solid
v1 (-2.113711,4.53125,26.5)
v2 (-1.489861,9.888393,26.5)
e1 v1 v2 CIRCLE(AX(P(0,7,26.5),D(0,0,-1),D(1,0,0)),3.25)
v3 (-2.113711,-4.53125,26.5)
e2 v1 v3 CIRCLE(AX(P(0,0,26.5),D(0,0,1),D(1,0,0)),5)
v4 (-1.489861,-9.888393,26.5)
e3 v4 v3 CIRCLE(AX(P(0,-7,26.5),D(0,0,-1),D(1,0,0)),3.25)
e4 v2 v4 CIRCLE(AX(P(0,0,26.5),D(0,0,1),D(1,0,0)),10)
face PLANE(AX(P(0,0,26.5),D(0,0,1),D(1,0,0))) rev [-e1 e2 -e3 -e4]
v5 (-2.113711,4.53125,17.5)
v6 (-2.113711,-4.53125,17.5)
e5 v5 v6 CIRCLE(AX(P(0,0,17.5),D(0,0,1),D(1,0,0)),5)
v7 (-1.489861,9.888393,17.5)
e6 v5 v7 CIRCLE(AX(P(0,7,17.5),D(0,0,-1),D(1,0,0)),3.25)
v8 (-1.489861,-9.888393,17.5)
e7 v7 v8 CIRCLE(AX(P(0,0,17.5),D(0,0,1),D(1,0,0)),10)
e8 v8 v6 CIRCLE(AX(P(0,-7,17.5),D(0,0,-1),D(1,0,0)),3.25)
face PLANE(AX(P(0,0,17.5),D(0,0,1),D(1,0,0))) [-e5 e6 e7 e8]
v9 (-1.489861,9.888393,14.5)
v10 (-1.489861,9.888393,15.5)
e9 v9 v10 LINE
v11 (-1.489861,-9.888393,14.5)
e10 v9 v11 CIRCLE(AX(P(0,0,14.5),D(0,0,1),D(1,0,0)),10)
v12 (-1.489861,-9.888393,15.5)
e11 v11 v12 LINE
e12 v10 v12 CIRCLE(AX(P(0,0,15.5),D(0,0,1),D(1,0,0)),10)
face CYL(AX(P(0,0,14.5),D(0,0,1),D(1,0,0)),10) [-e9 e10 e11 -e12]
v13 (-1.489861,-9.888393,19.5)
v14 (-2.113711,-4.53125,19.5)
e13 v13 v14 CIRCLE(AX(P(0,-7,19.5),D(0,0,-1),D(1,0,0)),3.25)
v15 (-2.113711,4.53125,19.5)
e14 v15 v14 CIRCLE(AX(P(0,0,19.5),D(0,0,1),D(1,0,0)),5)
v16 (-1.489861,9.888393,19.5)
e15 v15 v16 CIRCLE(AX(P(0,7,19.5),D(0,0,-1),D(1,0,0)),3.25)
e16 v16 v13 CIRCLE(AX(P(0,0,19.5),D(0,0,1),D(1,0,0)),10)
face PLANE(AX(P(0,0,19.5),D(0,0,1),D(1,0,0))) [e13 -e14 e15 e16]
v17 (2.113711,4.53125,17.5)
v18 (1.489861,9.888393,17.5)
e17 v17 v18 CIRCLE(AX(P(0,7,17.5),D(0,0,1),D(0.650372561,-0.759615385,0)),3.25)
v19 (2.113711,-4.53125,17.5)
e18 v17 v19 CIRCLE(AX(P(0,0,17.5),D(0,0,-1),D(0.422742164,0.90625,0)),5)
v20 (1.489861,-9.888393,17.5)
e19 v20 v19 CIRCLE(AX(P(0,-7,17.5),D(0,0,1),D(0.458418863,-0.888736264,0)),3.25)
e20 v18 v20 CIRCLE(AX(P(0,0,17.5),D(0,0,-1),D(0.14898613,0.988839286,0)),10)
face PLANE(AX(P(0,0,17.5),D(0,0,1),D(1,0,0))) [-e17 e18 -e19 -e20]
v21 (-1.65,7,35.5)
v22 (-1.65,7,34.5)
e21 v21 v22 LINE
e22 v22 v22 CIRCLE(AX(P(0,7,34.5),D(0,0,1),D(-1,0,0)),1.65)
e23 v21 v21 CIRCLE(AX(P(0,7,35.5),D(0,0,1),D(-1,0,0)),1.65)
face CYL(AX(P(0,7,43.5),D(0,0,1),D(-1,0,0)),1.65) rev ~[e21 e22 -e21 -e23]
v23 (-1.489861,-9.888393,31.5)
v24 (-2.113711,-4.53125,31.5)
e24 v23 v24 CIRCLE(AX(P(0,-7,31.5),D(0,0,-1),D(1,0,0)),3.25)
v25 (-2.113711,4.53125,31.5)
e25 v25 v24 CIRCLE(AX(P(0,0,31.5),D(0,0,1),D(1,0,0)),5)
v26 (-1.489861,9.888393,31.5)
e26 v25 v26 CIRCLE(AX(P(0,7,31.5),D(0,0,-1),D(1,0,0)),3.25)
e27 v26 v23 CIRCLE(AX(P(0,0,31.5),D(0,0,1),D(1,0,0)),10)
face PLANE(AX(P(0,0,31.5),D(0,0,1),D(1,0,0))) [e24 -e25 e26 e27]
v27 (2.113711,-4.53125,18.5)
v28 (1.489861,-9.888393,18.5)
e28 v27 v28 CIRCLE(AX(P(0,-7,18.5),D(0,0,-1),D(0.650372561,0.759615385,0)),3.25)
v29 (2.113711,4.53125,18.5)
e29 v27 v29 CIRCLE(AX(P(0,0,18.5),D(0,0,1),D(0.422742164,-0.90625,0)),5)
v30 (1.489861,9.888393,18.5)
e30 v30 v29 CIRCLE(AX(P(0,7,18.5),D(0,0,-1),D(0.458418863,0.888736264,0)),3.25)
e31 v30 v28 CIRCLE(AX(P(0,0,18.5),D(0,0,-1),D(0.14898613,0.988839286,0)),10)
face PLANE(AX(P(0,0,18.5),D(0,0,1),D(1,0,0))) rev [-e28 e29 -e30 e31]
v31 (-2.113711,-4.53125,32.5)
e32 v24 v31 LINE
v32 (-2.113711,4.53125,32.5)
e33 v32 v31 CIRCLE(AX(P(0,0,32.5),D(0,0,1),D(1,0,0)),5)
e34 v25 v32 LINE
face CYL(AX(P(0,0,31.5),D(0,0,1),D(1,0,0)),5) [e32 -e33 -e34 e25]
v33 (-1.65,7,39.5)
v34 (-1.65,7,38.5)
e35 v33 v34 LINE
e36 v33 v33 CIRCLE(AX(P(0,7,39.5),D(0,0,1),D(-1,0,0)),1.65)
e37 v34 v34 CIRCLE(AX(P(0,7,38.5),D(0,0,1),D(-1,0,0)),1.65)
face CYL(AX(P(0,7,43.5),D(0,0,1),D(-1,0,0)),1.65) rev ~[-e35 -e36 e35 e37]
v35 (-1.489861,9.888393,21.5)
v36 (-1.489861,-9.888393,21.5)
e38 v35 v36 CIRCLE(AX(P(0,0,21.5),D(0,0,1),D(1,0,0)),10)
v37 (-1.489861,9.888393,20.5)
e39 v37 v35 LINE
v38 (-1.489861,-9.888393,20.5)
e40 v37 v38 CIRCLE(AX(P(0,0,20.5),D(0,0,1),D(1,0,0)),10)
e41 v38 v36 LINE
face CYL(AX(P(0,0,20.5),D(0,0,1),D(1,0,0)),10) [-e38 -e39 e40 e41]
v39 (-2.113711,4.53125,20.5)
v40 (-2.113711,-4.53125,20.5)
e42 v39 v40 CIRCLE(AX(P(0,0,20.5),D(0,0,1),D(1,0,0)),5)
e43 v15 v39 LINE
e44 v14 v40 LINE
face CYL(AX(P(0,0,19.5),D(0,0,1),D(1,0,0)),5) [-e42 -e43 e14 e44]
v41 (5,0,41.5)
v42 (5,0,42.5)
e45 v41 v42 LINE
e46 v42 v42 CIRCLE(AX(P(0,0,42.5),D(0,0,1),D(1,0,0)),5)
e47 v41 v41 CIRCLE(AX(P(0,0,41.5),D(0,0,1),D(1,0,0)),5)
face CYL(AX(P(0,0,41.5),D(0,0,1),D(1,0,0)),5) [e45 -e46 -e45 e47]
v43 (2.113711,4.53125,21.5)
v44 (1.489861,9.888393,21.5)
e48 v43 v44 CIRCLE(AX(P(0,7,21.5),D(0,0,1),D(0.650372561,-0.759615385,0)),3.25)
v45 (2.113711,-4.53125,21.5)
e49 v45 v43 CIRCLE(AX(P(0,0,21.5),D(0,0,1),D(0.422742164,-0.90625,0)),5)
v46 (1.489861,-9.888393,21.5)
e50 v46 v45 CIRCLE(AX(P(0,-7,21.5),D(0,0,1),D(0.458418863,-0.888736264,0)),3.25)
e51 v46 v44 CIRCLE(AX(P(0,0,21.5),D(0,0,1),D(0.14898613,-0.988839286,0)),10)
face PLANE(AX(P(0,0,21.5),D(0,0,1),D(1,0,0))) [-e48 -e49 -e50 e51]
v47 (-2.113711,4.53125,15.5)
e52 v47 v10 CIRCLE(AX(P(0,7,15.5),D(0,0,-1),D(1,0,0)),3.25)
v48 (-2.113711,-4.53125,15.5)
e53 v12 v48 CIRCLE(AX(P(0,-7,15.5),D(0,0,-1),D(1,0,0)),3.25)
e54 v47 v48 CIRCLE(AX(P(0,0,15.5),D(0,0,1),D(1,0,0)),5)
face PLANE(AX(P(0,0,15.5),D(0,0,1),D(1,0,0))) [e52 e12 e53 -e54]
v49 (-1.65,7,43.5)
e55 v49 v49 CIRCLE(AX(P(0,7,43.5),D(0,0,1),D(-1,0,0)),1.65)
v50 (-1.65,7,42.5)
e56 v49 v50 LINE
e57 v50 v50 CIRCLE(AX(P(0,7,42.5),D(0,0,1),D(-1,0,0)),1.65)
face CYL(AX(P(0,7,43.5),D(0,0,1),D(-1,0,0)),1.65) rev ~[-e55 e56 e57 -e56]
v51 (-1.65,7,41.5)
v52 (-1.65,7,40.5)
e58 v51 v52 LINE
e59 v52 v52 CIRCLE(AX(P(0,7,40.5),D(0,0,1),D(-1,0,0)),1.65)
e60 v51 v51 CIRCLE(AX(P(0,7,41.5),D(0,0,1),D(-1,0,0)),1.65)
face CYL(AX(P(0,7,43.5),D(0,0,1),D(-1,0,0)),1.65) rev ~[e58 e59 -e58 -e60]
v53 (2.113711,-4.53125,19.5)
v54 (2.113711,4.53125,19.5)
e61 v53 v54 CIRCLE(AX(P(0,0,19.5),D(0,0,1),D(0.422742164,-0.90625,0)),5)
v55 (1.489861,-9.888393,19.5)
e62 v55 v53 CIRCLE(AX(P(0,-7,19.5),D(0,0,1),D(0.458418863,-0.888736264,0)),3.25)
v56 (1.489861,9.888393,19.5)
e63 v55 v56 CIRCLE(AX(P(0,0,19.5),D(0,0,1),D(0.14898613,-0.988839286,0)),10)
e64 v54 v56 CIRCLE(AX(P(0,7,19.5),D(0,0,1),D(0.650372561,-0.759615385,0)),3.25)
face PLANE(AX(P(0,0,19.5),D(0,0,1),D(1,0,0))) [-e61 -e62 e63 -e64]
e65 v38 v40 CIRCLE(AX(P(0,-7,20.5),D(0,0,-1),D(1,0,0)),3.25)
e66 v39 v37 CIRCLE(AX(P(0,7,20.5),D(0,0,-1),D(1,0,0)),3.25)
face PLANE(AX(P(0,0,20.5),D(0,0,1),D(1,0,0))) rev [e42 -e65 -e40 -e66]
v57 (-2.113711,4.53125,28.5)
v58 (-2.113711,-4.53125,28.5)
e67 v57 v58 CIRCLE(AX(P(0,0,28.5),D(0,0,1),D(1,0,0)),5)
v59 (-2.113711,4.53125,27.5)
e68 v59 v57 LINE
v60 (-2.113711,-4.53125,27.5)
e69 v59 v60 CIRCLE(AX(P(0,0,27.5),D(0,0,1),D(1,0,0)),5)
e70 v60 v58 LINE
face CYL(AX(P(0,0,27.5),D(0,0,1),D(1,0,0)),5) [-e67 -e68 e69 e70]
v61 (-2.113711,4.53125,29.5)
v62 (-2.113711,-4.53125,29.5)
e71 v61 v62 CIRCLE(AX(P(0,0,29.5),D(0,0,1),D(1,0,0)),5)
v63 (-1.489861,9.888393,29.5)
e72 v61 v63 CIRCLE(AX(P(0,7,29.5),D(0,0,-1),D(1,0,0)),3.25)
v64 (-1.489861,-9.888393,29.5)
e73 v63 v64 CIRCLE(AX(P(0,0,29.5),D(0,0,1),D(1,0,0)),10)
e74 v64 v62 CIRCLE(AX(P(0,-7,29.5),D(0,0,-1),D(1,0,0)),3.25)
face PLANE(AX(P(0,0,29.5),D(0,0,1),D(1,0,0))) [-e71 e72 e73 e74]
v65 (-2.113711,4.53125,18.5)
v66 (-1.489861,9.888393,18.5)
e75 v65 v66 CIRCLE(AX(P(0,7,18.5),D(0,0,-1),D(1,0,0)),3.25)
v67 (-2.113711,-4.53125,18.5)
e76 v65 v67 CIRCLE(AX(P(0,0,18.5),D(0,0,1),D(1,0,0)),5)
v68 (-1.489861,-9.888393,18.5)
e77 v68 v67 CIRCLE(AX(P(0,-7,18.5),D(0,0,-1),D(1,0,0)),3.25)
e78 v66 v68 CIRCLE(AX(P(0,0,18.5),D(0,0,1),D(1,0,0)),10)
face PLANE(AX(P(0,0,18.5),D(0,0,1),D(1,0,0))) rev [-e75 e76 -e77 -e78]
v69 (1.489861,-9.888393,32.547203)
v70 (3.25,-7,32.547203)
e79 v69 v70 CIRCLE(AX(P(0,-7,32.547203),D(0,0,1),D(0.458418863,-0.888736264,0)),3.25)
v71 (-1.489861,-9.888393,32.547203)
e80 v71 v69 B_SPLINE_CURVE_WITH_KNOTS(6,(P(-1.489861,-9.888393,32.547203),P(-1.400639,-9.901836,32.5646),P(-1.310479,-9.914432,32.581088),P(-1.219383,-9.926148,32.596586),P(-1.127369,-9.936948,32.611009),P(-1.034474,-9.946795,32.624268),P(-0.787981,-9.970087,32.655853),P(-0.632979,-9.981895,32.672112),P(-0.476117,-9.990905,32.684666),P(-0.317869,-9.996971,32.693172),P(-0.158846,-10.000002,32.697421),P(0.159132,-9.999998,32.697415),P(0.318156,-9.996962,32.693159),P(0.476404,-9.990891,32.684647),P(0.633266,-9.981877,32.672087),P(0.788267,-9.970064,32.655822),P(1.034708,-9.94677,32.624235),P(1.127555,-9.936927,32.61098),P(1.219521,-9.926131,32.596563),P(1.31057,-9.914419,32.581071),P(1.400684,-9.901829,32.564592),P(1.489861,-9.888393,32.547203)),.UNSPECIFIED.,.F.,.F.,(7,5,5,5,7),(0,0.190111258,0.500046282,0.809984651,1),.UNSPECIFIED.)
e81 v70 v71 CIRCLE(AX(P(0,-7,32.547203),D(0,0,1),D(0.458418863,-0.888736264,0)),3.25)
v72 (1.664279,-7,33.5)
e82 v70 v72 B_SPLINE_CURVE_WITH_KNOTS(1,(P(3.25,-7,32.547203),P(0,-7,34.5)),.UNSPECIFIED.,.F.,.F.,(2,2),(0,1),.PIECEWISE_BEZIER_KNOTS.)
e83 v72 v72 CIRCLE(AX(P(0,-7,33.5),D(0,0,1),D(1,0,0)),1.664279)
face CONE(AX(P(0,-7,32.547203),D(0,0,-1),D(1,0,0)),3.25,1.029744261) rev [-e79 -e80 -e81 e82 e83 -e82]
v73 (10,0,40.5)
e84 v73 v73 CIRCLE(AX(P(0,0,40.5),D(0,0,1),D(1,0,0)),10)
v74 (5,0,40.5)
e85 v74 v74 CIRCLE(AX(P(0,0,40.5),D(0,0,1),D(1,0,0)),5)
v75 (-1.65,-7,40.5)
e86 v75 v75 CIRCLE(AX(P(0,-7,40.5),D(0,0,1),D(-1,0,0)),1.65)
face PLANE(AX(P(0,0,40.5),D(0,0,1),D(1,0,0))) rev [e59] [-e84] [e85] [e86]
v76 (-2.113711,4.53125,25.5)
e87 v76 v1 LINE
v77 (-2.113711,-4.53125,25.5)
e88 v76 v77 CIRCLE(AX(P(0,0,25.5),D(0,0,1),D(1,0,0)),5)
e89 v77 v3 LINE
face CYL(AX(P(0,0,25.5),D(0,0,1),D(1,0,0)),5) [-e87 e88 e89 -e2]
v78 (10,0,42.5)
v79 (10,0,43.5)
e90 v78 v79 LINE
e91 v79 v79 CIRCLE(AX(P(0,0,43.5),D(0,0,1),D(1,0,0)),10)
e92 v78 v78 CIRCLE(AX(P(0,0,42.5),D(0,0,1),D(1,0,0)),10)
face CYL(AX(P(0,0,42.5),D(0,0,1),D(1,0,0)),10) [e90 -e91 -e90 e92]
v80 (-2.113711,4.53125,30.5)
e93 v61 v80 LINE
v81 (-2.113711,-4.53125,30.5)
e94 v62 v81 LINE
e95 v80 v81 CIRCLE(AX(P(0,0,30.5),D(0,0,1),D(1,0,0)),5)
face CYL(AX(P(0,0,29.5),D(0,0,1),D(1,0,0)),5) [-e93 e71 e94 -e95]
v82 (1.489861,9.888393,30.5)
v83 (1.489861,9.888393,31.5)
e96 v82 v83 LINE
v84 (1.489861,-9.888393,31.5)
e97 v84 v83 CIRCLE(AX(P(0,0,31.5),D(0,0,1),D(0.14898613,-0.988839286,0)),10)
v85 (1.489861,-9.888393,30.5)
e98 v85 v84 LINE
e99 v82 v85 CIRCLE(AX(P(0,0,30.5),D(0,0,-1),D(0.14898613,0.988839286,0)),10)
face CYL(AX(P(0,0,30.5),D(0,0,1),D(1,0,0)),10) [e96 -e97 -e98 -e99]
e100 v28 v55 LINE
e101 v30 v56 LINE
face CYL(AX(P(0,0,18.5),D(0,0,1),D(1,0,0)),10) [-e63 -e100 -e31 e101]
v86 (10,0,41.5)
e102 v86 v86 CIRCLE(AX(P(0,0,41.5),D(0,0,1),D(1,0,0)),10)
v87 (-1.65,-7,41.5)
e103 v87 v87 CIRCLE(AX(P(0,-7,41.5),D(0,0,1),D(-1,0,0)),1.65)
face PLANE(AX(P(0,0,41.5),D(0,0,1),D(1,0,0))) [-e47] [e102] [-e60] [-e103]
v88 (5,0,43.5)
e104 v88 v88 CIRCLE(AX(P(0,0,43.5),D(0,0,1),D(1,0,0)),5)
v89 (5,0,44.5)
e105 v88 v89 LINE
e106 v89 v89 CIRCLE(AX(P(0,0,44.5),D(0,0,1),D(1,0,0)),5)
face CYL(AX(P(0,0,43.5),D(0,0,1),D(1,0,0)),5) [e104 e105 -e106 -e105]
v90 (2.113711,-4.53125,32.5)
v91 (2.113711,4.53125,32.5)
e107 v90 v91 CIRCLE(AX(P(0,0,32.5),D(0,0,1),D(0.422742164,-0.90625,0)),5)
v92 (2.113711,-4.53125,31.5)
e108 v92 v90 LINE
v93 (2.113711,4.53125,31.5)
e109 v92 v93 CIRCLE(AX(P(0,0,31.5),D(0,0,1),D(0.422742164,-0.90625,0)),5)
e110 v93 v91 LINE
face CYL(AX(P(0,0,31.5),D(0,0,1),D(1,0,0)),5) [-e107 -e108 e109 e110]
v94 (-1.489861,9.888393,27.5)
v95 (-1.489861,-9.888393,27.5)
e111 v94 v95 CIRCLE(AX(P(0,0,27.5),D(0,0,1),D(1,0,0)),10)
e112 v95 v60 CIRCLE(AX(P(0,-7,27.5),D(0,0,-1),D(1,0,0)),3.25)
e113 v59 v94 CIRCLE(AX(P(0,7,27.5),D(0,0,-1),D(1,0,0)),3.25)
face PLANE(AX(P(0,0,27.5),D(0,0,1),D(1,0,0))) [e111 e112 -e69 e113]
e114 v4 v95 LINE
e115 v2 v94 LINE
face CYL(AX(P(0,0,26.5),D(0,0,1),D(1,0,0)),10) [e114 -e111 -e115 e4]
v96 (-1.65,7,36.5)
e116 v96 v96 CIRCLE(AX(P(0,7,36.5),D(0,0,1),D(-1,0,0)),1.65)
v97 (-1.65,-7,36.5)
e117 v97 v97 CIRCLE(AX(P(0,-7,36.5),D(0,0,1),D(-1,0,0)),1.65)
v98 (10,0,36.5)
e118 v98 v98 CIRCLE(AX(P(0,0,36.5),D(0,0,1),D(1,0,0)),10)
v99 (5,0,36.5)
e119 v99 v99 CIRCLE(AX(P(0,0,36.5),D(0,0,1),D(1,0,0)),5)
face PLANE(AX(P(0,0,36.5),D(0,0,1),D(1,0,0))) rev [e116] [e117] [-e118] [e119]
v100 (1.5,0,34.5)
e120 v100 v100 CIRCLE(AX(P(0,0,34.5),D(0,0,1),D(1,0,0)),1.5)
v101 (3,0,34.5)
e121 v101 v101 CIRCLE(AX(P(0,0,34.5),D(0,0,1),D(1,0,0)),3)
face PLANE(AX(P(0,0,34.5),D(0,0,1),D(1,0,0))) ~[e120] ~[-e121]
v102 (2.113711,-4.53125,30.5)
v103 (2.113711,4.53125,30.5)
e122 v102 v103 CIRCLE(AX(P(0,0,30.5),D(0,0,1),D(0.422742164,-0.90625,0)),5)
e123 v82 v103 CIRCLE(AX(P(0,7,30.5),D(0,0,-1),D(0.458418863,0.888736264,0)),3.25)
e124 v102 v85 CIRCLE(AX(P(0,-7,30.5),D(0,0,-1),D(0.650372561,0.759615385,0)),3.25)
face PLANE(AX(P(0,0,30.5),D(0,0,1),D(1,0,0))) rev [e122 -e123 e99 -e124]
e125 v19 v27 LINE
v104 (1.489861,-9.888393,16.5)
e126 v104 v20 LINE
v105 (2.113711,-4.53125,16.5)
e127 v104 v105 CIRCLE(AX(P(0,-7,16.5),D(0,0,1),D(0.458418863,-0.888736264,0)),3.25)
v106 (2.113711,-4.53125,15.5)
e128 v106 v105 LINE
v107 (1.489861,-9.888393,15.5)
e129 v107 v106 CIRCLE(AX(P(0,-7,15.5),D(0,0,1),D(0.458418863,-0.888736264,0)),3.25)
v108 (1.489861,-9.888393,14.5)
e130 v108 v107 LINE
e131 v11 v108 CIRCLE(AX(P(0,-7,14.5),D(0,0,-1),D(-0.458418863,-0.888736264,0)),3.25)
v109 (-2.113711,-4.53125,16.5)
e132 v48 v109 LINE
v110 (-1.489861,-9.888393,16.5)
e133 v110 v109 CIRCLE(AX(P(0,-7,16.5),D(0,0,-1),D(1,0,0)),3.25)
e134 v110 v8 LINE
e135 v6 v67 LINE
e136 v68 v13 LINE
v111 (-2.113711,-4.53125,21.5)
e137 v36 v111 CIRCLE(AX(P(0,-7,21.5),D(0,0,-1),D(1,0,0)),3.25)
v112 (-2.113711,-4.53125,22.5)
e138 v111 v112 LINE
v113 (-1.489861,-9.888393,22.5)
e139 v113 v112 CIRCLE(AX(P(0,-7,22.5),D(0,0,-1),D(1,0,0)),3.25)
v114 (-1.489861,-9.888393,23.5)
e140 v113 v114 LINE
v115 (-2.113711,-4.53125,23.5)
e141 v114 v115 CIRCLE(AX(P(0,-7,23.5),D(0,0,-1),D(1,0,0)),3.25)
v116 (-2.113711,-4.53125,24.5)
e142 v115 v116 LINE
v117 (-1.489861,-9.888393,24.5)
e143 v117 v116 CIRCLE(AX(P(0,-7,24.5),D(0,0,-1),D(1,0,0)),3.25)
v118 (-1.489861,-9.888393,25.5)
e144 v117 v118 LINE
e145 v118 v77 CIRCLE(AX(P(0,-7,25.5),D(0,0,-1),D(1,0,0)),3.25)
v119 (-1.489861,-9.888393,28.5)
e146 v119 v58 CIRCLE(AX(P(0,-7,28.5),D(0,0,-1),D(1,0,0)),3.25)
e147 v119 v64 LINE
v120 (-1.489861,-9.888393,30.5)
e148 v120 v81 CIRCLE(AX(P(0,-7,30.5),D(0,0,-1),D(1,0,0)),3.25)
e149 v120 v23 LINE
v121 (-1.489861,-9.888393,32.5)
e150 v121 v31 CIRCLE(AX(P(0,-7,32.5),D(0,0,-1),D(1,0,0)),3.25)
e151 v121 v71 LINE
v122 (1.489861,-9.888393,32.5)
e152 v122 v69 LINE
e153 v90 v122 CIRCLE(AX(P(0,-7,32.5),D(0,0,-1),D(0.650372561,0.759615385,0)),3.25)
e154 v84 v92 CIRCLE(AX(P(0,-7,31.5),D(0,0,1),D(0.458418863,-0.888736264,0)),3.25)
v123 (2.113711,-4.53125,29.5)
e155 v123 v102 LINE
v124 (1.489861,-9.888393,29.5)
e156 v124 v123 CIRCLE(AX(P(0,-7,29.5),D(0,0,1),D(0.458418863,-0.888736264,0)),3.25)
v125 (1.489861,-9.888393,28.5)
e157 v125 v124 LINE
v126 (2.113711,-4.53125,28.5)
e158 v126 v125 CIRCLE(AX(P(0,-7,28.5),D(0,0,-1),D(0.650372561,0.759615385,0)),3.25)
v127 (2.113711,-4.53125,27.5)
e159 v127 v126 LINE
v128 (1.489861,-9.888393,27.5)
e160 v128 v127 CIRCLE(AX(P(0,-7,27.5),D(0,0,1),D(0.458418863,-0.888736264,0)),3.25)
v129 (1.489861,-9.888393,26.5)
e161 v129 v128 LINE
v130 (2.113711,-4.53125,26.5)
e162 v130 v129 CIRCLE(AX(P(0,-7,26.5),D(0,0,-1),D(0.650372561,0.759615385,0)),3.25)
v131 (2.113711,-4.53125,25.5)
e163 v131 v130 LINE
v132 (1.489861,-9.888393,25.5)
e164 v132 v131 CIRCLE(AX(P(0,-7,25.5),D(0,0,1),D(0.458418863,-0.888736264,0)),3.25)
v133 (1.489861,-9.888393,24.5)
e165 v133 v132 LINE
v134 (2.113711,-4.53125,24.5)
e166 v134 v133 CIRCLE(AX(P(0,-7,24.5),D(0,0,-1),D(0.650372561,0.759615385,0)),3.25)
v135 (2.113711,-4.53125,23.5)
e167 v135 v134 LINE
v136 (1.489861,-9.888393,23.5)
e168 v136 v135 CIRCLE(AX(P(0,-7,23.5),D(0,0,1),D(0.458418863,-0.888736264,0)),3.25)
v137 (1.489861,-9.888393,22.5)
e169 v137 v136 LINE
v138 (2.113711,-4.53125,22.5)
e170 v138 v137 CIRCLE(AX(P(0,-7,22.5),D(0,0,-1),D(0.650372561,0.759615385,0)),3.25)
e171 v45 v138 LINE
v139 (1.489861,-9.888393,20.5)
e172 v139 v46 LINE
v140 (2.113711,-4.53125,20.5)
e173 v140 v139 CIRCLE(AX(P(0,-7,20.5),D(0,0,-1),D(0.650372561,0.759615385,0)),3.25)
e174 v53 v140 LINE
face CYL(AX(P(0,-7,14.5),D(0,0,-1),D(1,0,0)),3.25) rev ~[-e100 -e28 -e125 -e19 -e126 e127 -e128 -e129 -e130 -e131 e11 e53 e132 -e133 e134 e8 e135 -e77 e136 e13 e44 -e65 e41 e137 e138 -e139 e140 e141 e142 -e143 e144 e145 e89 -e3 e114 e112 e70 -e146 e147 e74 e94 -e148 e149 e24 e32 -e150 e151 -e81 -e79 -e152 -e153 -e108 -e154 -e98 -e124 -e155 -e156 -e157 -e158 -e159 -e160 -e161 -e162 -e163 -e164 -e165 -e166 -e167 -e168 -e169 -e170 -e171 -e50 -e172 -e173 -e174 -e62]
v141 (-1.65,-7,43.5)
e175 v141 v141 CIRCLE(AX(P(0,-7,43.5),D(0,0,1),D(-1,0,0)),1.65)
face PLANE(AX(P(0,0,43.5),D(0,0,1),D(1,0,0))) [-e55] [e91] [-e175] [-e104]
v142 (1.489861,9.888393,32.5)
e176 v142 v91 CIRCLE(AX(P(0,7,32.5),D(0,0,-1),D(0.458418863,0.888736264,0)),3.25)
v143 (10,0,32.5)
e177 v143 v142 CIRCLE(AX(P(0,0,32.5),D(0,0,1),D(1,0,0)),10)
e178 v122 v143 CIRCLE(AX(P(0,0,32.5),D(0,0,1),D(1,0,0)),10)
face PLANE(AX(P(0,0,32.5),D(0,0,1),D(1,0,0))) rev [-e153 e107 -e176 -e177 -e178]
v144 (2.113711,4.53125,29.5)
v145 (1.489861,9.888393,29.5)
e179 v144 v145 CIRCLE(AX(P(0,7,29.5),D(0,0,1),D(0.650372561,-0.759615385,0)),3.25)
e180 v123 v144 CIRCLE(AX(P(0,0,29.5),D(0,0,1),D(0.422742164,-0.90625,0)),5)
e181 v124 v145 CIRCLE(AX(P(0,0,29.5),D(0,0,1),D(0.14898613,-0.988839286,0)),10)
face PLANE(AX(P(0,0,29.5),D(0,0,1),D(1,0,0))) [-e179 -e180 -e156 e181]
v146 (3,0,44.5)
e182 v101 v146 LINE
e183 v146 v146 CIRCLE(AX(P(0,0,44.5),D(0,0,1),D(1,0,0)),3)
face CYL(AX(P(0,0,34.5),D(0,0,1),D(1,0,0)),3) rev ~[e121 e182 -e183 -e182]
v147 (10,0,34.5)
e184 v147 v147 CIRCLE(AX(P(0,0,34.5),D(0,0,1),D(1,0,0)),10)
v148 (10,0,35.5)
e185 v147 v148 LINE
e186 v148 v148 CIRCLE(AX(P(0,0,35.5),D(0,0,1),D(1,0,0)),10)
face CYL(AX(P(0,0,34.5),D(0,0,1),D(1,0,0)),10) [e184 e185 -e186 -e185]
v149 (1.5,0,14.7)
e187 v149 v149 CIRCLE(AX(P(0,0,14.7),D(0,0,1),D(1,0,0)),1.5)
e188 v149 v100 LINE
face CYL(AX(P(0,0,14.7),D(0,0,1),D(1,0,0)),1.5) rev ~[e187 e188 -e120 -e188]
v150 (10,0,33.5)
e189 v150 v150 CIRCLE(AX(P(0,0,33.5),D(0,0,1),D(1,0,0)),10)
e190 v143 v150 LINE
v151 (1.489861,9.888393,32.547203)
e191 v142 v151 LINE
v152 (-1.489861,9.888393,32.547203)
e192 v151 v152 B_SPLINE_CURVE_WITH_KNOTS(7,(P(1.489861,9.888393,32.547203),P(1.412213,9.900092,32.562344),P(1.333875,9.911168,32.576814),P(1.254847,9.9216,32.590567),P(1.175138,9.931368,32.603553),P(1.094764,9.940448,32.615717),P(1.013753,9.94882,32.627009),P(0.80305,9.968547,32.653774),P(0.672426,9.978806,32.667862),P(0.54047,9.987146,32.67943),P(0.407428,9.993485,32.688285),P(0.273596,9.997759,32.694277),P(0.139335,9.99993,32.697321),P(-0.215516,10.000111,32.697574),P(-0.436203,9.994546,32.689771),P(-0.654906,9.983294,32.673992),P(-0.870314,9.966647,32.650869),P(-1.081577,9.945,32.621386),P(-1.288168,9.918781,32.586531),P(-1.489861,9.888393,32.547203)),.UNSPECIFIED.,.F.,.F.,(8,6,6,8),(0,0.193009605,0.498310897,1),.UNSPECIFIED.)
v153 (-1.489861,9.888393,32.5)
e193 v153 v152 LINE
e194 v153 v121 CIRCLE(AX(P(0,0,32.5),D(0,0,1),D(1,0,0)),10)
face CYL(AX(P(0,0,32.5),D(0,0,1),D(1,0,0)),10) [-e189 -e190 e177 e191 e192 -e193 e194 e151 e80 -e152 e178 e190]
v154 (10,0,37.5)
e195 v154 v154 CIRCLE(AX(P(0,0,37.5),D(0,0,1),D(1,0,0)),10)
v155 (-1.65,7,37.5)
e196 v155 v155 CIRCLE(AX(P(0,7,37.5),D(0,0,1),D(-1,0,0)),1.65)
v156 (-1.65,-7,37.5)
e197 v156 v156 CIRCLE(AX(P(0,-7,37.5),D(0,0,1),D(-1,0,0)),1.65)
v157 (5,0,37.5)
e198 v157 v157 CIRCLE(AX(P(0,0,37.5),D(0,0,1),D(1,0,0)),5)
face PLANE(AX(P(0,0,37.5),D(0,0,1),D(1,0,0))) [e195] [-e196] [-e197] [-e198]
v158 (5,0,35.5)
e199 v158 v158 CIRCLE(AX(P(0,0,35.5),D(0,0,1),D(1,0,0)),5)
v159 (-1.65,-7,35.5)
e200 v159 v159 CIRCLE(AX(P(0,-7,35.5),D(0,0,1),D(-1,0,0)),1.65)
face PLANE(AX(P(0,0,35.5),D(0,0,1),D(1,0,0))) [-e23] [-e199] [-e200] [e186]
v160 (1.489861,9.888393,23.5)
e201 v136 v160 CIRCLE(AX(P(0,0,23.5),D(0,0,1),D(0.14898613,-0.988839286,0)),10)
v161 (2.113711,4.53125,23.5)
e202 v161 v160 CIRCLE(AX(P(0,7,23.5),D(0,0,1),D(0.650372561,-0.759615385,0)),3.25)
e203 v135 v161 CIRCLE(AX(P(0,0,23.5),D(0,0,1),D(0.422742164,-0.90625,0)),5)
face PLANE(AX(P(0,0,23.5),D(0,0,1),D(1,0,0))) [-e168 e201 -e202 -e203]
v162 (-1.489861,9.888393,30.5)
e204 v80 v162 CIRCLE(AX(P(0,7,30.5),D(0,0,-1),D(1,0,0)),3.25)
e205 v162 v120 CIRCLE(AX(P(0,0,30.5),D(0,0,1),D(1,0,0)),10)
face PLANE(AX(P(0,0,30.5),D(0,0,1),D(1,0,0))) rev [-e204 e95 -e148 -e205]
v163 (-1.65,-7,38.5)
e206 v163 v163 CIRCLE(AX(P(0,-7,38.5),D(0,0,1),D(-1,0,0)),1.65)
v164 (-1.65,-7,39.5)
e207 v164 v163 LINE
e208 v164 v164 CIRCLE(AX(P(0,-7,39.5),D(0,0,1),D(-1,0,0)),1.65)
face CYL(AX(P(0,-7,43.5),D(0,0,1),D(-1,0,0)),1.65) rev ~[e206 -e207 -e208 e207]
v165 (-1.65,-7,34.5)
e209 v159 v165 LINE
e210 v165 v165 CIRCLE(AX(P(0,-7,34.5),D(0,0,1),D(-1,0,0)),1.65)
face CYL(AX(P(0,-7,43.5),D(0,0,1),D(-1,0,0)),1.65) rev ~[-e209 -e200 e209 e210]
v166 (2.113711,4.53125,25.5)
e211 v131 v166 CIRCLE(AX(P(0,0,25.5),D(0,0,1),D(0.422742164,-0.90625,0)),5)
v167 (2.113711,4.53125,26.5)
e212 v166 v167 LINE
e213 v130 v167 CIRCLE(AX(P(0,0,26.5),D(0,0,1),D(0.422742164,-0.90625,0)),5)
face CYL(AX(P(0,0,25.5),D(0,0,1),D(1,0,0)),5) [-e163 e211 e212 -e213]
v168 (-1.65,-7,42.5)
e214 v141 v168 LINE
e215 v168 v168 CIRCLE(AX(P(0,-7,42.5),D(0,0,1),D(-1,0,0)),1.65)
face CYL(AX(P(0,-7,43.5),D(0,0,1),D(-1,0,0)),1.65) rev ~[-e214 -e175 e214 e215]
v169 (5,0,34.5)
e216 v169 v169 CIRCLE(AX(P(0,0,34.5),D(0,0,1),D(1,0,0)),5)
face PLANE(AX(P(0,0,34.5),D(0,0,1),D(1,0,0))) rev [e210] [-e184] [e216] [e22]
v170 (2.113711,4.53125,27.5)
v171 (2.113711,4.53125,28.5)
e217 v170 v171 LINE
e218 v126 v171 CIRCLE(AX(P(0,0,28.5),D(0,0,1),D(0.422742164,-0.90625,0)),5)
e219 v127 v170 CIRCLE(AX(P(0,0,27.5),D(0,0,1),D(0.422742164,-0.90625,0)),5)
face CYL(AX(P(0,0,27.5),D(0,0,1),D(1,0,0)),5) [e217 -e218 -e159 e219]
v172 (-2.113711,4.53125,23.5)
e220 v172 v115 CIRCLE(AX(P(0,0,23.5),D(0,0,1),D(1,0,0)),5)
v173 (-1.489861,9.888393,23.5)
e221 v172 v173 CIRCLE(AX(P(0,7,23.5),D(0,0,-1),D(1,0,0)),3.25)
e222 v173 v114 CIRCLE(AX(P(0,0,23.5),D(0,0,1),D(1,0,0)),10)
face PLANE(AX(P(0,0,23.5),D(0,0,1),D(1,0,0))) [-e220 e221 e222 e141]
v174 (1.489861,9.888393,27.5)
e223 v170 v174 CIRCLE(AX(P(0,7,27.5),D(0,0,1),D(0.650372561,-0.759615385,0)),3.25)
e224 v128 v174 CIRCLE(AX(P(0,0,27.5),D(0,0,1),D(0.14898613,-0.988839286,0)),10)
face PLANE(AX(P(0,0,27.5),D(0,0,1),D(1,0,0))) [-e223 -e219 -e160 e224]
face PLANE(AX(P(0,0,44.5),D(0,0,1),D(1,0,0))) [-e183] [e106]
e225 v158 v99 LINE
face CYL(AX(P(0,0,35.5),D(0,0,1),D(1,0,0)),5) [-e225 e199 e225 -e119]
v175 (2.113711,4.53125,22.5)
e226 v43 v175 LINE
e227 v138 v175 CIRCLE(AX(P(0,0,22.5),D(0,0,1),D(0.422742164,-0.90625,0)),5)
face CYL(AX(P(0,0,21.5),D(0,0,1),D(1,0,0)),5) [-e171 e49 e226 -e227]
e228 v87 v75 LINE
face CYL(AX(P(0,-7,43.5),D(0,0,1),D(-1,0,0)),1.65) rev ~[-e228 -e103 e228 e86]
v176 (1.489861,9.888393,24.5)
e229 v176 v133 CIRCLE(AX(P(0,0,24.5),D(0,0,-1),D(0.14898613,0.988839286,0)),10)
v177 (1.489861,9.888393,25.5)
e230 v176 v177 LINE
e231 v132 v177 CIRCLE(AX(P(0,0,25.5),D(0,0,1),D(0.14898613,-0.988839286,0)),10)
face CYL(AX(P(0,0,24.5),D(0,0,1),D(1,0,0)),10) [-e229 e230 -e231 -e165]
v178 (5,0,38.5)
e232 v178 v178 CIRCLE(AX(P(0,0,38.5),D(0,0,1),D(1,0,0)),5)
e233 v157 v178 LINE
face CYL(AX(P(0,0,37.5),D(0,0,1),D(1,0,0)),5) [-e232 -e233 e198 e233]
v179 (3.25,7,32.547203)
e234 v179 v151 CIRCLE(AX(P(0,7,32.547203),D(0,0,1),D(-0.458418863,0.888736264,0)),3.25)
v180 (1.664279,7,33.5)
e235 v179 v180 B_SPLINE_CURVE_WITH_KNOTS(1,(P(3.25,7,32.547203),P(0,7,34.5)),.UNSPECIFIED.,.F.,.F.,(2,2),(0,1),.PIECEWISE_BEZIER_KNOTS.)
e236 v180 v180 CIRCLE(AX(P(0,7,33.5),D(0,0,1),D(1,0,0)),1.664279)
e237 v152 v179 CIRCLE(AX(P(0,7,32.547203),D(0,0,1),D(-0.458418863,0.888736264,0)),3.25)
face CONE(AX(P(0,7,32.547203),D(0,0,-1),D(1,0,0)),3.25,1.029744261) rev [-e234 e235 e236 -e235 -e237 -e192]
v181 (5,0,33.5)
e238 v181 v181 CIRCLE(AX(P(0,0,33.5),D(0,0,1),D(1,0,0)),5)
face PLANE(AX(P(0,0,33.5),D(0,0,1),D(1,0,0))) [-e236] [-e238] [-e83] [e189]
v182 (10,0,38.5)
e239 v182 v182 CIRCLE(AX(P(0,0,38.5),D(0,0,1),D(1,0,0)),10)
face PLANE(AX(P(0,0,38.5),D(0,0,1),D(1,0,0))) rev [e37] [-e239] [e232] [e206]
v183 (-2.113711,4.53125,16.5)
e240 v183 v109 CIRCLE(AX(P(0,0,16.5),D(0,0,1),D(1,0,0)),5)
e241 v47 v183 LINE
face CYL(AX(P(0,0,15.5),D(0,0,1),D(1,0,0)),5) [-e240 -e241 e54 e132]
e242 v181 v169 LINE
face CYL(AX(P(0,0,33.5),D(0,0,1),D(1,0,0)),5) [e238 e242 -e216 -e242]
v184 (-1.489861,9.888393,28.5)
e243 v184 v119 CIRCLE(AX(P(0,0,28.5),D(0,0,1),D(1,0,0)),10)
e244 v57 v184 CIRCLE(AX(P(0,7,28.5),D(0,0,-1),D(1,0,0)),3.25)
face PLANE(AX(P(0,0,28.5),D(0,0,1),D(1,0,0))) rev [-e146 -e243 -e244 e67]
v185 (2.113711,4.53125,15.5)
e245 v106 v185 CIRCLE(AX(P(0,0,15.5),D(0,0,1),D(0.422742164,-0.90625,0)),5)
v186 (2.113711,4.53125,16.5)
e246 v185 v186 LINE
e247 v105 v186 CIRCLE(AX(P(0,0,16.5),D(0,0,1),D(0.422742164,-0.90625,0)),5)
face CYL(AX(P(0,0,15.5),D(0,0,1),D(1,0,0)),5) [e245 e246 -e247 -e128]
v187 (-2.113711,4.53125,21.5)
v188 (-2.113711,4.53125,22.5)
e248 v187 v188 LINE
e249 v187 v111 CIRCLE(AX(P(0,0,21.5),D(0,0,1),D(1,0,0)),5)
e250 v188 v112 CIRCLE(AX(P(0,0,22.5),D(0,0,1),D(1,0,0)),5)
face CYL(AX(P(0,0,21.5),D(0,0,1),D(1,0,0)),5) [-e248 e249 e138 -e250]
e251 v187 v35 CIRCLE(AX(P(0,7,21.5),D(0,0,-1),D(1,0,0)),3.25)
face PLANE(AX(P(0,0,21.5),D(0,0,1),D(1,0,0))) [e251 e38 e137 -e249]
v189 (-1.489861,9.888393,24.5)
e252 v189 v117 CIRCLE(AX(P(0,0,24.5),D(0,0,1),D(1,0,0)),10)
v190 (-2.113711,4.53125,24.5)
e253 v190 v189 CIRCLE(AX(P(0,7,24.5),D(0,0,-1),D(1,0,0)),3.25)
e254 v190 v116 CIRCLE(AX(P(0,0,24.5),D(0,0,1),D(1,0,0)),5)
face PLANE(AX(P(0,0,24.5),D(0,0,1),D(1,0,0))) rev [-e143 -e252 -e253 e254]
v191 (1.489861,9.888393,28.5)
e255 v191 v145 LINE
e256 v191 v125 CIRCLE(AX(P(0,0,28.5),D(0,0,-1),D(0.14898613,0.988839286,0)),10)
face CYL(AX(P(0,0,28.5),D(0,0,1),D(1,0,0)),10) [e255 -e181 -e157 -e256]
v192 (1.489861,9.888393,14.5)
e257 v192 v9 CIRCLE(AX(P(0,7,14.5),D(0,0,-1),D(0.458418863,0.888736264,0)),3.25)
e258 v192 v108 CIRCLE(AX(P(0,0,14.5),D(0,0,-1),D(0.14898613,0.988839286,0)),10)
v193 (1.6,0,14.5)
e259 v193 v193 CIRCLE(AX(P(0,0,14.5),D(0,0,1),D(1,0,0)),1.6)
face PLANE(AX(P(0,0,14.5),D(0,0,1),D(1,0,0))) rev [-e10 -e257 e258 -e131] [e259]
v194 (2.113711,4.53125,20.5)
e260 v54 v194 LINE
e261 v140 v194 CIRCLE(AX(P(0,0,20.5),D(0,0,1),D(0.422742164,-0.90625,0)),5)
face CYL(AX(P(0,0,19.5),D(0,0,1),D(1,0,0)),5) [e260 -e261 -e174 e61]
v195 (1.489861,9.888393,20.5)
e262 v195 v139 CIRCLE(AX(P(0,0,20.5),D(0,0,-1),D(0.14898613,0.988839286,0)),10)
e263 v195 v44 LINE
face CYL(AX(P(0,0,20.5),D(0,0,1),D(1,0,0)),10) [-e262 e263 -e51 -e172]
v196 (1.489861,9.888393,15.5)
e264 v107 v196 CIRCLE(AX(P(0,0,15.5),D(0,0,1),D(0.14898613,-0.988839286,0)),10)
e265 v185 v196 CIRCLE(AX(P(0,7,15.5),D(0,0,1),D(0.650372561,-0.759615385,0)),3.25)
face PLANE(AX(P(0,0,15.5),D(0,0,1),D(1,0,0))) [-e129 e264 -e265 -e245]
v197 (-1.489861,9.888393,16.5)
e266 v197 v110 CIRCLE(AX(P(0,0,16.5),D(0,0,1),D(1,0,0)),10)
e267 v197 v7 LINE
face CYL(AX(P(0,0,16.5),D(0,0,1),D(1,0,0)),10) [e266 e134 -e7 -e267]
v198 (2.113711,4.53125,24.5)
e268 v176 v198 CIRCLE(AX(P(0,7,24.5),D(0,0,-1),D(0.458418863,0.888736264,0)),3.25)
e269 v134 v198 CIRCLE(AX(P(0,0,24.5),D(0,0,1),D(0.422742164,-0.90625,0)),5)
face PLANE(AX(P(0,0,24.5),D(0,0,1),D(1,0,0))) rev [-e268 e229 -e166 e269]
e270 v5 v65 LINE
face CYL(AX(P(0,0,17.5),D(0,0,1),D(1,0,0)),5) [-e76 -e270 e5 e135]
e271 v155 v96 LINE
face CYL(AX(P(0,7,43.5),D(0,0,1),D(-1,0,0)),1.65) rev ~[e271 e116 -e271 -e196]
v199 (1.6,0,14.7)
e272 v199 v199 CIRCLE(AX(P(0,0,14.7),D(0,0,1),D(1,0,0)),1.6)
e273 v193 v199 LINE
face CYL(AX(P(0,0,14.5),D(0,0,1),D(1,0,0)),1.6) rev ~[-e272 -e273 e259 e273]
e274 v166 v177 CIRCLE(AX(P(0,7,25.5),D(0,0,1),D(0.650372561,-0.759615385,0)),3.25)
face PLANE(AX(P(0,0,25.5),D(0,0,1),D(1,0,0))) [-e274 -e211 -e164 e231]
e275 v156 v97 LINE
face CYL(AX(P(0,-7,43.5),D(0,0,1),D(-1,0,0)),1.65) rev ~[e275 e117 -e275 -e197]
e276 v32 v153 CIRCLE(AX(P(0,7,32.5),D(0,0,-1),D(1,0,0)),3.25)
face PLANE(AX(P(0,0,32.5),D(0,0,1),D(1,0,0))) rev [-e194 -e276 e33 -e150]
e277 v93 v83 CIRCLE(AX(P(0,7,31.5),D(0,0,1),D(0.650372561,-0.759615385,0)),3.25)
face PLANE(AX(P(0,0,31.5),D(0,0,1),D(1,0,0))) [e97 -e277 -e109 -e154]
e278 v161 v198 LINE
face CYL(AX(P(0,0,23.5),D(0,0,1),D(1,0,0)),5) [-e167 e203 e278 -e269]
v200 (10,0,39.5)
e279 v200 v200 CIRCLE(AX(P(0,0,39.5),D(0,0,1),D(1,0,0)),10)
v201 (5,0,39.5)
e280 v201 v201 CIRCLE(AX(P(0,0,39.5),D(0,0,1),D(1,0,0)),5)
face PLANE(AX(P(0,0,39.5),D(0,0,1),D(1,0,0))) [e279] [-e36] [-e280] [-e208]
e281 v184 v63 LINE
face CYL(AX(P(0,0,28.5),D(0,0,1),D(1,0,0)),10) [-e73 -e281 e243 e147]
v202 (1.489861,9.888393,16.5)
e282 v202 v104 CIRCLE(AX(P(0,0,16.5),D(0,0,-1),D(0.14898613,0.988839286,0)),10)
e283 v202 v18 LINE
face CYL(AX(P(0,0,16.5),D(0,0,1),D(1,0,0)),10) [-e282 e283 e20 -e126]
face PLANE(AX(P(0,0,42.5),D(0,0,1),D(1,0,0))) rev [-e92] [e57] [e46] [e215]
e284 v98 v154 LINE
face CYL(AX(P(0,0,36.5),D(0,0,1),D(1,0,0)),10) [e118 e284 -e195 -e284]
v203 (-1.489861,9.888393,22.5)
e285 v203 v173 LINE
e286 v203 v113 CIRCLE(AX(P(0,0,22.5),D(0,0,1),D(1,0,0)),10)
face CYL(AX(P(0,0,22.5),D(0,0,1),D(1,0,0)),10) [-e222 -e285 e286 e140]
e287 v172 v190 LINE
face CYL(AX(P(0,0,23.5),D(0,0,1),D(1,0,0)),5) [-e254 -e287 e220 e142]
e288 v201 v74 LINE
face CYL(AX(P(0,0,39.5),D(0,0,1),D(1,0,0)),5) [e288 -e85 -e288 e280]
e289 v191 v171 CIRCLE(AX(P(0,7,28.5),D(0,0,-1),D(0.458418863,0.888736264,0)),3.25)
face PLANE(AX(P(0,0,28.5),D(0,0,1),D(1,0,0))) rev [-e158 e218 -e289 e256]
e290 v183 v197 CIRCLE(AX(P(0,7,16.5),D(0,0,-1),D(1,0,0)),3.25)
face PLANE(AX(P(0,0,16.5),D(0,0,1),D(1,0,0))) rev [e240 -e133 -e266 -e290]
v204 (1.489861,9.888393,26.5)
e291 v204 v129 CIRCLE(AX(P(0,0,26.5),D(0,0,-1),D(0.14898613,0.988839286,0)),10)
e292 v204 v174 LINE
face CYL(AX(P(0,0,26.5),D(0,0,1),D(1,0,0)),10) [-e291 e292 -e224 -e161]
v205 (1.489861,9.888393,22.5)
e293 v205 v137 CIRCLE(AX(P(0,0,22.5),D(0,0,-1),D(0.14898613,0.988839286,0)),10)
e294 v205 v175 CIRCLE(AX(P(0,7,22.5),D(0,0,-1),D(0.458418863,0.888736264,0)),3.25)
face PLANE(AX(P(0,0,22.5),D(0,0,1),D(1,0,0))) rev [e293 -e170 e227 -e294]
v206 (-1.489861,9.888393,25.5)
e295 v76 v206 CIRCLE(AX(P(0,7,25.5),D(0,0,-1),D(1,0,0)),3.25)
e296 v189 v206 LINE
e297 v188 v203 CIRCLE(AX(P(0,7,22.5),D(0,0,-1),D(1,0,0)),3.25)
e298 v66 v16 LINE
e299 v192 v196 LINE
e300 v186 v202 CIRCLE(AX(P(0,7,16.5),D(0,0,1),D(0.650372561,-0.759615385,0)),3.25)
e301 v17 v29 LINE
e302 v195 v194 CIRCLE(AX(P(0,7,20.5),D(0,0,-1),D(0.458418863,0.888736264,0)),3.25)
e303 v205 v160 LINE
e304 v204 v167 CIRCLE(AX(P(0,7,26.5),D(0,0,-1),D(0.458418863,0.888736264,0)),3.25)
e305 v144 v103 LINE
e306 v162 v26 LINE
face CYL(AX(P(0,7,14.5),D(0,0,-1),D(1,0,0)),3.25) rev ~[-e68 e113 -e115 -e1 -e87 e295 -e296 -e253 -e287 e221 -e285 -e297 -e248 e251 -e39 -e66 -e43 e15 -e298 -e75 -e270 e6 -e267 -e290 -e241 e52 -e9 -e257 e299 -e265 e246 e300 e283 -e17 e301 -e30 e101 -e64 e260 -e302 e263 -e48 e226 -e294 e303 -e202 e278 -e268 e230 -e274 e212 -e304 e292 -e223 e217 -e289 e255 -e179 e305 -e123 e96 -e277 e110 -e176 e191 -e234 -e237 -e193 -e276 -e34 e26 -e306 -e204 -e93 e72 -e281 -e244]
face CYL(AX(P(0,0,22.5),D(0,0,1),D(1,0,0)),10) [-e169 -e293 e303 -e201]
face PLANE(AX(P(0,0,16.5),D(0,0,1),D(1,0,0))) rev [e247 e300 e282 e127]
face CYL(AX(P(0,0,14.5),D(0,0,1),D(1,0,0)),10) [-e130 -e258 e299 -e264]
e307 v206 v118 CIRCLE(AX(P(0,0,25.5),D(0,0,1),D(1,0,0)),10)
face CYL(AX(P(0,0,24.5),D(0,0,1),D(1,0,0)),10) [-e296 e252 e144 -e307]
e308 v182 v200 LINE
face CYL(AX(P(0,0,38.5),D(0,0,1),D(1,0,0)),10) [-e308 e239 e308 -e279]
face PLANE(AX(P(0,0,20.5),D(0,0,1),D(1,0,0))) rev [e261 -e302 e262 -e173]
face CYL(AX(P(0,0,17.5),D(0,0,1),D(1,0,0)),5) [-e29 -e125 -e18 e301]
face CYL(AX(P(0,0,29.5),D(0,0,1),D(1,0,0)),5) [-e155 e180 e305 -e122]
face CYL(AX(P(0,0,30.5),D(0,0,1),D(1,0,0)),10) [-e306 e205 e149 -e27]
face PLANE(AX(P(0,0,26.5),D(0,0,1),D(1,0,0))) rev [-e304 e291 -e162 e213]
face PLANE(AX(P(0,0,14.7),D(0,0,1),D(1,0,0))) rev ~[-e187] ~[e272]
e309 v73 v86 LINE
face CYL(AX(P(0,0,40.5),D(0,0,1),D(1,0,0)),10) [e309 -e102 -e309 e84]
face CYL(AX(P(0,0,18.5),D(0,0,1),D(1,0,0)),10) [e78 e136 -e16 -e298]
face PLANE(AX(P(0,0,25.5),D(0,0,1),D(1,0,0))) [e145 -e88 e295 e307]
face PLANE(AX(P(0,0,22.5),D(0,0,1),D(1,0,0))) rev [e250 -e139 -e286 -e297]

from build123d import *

# Parameters (mm, degrees)
LINEARPATTERN_COUNT = 15
LINEARPATTERN_PITCH = 2
SKETCH011_R         = 1.65
HOLE007_DEPTH       = 29.001
SKETCH014_R         = 3.25
HOLE008_DEPTH       = 18.047203
HOLE008_TIPS_R      = 3.25


with BuildPart() as part:
    # Sketch008 → Revolution (revolve)
    with BuildSketch(Plane.XZ):
        Polygon((0, 14.5), (10, 14.5), (10, 15.5), (5, 15.5), (5, 16.5), (0, 16.5), align=None)
    revolution = revolve(axis=Axis((0, 0, 0), (0, 0, 1)))

    # LinearPattern: Revolution ×15
    with Locations(*[(0, 0, i * LINEARPATTERN_PITCH) for i in range(1, LINEARPATTERN_COUNT)]):
        add(revolution)

    # Sketch009 → Groove (revolve, cut)
    with BuildSketch(Plane.XZ):
        Polygon((1.6, 14.5), (1.6, 14.7), (1.5, 14.7), (1.5, 34.5), (3, 34.5), (3, 44.5), (0, 44.5), (0, 14.5), align=None)
    revolve(axis=Axis((0, 0, 0), (0, 0, 1)), mode=Mode.SUBTRACT)

    # Sketch011 → Hole007 (cut, through all)
    with BuildSketch(Plane(origin=(0, 0, 43.5), x_dir=(-1, 0, 0), z_dir=(0, 0, 1))):
        with Locations((0, 7)):
            Circle(SKETCH011_R)
        with Locations((0, -7)):
            Circle(SKETCH011_R)
    extrude(amount=-HOLE007_DEPTH, mode=Mode.SUBTRACT)

    # Sketch014 (on Face97 of Hole007) → Hole008 (cut)
    with BuildSketch(Plane(origin=(0, 0, 14.5), x_dir=(1, 0, 0), z_dir=(0, 0, -1))):
        with Locations((0, 7)):
            Circle(SKETCH014_R)
        with Locations((0, -7)):
            Circle(SKETCH014_R)
    extrude(amount=-HOLE008_DEPTH, mode=Mode.SUBTRACT)

    # Hole008 tips → Hole008 tip 1 section 0
    with BuildSketch(Plane(origin=(0, 0, 32.547203), x_dir=(1, 0, 0), z_dir=(0, 0, -1)), mode=Mode.PRIVATE) as hole008_tip_1_s0:
        with Locations((0, 7)):
            Circle(HOLE008_TIPS_R)
    loft([hole008_tip_1_s0.sketch, Vertex(0, -7, 34.5)], mode=Mode.SUBTRACT)

    # Hole008 tips → Hole008 tip 2 section 0
    with BuildSketch(Plane(origin=(0, 0, 32.547203), x_dir=(1, 0, 0), z_dir=(0, 0, -1)), mode=Mode.PRIVATE) as hole008_tip_2_s0:
        with Locations((0, -7)):
            Circle(HOLE008_TIPS_R)
    loft([hole008_tip_2_s0.sketch, Vertex(0, 7, 34.5)], mode=Mode.SUBTRACT)


solid = part.part
